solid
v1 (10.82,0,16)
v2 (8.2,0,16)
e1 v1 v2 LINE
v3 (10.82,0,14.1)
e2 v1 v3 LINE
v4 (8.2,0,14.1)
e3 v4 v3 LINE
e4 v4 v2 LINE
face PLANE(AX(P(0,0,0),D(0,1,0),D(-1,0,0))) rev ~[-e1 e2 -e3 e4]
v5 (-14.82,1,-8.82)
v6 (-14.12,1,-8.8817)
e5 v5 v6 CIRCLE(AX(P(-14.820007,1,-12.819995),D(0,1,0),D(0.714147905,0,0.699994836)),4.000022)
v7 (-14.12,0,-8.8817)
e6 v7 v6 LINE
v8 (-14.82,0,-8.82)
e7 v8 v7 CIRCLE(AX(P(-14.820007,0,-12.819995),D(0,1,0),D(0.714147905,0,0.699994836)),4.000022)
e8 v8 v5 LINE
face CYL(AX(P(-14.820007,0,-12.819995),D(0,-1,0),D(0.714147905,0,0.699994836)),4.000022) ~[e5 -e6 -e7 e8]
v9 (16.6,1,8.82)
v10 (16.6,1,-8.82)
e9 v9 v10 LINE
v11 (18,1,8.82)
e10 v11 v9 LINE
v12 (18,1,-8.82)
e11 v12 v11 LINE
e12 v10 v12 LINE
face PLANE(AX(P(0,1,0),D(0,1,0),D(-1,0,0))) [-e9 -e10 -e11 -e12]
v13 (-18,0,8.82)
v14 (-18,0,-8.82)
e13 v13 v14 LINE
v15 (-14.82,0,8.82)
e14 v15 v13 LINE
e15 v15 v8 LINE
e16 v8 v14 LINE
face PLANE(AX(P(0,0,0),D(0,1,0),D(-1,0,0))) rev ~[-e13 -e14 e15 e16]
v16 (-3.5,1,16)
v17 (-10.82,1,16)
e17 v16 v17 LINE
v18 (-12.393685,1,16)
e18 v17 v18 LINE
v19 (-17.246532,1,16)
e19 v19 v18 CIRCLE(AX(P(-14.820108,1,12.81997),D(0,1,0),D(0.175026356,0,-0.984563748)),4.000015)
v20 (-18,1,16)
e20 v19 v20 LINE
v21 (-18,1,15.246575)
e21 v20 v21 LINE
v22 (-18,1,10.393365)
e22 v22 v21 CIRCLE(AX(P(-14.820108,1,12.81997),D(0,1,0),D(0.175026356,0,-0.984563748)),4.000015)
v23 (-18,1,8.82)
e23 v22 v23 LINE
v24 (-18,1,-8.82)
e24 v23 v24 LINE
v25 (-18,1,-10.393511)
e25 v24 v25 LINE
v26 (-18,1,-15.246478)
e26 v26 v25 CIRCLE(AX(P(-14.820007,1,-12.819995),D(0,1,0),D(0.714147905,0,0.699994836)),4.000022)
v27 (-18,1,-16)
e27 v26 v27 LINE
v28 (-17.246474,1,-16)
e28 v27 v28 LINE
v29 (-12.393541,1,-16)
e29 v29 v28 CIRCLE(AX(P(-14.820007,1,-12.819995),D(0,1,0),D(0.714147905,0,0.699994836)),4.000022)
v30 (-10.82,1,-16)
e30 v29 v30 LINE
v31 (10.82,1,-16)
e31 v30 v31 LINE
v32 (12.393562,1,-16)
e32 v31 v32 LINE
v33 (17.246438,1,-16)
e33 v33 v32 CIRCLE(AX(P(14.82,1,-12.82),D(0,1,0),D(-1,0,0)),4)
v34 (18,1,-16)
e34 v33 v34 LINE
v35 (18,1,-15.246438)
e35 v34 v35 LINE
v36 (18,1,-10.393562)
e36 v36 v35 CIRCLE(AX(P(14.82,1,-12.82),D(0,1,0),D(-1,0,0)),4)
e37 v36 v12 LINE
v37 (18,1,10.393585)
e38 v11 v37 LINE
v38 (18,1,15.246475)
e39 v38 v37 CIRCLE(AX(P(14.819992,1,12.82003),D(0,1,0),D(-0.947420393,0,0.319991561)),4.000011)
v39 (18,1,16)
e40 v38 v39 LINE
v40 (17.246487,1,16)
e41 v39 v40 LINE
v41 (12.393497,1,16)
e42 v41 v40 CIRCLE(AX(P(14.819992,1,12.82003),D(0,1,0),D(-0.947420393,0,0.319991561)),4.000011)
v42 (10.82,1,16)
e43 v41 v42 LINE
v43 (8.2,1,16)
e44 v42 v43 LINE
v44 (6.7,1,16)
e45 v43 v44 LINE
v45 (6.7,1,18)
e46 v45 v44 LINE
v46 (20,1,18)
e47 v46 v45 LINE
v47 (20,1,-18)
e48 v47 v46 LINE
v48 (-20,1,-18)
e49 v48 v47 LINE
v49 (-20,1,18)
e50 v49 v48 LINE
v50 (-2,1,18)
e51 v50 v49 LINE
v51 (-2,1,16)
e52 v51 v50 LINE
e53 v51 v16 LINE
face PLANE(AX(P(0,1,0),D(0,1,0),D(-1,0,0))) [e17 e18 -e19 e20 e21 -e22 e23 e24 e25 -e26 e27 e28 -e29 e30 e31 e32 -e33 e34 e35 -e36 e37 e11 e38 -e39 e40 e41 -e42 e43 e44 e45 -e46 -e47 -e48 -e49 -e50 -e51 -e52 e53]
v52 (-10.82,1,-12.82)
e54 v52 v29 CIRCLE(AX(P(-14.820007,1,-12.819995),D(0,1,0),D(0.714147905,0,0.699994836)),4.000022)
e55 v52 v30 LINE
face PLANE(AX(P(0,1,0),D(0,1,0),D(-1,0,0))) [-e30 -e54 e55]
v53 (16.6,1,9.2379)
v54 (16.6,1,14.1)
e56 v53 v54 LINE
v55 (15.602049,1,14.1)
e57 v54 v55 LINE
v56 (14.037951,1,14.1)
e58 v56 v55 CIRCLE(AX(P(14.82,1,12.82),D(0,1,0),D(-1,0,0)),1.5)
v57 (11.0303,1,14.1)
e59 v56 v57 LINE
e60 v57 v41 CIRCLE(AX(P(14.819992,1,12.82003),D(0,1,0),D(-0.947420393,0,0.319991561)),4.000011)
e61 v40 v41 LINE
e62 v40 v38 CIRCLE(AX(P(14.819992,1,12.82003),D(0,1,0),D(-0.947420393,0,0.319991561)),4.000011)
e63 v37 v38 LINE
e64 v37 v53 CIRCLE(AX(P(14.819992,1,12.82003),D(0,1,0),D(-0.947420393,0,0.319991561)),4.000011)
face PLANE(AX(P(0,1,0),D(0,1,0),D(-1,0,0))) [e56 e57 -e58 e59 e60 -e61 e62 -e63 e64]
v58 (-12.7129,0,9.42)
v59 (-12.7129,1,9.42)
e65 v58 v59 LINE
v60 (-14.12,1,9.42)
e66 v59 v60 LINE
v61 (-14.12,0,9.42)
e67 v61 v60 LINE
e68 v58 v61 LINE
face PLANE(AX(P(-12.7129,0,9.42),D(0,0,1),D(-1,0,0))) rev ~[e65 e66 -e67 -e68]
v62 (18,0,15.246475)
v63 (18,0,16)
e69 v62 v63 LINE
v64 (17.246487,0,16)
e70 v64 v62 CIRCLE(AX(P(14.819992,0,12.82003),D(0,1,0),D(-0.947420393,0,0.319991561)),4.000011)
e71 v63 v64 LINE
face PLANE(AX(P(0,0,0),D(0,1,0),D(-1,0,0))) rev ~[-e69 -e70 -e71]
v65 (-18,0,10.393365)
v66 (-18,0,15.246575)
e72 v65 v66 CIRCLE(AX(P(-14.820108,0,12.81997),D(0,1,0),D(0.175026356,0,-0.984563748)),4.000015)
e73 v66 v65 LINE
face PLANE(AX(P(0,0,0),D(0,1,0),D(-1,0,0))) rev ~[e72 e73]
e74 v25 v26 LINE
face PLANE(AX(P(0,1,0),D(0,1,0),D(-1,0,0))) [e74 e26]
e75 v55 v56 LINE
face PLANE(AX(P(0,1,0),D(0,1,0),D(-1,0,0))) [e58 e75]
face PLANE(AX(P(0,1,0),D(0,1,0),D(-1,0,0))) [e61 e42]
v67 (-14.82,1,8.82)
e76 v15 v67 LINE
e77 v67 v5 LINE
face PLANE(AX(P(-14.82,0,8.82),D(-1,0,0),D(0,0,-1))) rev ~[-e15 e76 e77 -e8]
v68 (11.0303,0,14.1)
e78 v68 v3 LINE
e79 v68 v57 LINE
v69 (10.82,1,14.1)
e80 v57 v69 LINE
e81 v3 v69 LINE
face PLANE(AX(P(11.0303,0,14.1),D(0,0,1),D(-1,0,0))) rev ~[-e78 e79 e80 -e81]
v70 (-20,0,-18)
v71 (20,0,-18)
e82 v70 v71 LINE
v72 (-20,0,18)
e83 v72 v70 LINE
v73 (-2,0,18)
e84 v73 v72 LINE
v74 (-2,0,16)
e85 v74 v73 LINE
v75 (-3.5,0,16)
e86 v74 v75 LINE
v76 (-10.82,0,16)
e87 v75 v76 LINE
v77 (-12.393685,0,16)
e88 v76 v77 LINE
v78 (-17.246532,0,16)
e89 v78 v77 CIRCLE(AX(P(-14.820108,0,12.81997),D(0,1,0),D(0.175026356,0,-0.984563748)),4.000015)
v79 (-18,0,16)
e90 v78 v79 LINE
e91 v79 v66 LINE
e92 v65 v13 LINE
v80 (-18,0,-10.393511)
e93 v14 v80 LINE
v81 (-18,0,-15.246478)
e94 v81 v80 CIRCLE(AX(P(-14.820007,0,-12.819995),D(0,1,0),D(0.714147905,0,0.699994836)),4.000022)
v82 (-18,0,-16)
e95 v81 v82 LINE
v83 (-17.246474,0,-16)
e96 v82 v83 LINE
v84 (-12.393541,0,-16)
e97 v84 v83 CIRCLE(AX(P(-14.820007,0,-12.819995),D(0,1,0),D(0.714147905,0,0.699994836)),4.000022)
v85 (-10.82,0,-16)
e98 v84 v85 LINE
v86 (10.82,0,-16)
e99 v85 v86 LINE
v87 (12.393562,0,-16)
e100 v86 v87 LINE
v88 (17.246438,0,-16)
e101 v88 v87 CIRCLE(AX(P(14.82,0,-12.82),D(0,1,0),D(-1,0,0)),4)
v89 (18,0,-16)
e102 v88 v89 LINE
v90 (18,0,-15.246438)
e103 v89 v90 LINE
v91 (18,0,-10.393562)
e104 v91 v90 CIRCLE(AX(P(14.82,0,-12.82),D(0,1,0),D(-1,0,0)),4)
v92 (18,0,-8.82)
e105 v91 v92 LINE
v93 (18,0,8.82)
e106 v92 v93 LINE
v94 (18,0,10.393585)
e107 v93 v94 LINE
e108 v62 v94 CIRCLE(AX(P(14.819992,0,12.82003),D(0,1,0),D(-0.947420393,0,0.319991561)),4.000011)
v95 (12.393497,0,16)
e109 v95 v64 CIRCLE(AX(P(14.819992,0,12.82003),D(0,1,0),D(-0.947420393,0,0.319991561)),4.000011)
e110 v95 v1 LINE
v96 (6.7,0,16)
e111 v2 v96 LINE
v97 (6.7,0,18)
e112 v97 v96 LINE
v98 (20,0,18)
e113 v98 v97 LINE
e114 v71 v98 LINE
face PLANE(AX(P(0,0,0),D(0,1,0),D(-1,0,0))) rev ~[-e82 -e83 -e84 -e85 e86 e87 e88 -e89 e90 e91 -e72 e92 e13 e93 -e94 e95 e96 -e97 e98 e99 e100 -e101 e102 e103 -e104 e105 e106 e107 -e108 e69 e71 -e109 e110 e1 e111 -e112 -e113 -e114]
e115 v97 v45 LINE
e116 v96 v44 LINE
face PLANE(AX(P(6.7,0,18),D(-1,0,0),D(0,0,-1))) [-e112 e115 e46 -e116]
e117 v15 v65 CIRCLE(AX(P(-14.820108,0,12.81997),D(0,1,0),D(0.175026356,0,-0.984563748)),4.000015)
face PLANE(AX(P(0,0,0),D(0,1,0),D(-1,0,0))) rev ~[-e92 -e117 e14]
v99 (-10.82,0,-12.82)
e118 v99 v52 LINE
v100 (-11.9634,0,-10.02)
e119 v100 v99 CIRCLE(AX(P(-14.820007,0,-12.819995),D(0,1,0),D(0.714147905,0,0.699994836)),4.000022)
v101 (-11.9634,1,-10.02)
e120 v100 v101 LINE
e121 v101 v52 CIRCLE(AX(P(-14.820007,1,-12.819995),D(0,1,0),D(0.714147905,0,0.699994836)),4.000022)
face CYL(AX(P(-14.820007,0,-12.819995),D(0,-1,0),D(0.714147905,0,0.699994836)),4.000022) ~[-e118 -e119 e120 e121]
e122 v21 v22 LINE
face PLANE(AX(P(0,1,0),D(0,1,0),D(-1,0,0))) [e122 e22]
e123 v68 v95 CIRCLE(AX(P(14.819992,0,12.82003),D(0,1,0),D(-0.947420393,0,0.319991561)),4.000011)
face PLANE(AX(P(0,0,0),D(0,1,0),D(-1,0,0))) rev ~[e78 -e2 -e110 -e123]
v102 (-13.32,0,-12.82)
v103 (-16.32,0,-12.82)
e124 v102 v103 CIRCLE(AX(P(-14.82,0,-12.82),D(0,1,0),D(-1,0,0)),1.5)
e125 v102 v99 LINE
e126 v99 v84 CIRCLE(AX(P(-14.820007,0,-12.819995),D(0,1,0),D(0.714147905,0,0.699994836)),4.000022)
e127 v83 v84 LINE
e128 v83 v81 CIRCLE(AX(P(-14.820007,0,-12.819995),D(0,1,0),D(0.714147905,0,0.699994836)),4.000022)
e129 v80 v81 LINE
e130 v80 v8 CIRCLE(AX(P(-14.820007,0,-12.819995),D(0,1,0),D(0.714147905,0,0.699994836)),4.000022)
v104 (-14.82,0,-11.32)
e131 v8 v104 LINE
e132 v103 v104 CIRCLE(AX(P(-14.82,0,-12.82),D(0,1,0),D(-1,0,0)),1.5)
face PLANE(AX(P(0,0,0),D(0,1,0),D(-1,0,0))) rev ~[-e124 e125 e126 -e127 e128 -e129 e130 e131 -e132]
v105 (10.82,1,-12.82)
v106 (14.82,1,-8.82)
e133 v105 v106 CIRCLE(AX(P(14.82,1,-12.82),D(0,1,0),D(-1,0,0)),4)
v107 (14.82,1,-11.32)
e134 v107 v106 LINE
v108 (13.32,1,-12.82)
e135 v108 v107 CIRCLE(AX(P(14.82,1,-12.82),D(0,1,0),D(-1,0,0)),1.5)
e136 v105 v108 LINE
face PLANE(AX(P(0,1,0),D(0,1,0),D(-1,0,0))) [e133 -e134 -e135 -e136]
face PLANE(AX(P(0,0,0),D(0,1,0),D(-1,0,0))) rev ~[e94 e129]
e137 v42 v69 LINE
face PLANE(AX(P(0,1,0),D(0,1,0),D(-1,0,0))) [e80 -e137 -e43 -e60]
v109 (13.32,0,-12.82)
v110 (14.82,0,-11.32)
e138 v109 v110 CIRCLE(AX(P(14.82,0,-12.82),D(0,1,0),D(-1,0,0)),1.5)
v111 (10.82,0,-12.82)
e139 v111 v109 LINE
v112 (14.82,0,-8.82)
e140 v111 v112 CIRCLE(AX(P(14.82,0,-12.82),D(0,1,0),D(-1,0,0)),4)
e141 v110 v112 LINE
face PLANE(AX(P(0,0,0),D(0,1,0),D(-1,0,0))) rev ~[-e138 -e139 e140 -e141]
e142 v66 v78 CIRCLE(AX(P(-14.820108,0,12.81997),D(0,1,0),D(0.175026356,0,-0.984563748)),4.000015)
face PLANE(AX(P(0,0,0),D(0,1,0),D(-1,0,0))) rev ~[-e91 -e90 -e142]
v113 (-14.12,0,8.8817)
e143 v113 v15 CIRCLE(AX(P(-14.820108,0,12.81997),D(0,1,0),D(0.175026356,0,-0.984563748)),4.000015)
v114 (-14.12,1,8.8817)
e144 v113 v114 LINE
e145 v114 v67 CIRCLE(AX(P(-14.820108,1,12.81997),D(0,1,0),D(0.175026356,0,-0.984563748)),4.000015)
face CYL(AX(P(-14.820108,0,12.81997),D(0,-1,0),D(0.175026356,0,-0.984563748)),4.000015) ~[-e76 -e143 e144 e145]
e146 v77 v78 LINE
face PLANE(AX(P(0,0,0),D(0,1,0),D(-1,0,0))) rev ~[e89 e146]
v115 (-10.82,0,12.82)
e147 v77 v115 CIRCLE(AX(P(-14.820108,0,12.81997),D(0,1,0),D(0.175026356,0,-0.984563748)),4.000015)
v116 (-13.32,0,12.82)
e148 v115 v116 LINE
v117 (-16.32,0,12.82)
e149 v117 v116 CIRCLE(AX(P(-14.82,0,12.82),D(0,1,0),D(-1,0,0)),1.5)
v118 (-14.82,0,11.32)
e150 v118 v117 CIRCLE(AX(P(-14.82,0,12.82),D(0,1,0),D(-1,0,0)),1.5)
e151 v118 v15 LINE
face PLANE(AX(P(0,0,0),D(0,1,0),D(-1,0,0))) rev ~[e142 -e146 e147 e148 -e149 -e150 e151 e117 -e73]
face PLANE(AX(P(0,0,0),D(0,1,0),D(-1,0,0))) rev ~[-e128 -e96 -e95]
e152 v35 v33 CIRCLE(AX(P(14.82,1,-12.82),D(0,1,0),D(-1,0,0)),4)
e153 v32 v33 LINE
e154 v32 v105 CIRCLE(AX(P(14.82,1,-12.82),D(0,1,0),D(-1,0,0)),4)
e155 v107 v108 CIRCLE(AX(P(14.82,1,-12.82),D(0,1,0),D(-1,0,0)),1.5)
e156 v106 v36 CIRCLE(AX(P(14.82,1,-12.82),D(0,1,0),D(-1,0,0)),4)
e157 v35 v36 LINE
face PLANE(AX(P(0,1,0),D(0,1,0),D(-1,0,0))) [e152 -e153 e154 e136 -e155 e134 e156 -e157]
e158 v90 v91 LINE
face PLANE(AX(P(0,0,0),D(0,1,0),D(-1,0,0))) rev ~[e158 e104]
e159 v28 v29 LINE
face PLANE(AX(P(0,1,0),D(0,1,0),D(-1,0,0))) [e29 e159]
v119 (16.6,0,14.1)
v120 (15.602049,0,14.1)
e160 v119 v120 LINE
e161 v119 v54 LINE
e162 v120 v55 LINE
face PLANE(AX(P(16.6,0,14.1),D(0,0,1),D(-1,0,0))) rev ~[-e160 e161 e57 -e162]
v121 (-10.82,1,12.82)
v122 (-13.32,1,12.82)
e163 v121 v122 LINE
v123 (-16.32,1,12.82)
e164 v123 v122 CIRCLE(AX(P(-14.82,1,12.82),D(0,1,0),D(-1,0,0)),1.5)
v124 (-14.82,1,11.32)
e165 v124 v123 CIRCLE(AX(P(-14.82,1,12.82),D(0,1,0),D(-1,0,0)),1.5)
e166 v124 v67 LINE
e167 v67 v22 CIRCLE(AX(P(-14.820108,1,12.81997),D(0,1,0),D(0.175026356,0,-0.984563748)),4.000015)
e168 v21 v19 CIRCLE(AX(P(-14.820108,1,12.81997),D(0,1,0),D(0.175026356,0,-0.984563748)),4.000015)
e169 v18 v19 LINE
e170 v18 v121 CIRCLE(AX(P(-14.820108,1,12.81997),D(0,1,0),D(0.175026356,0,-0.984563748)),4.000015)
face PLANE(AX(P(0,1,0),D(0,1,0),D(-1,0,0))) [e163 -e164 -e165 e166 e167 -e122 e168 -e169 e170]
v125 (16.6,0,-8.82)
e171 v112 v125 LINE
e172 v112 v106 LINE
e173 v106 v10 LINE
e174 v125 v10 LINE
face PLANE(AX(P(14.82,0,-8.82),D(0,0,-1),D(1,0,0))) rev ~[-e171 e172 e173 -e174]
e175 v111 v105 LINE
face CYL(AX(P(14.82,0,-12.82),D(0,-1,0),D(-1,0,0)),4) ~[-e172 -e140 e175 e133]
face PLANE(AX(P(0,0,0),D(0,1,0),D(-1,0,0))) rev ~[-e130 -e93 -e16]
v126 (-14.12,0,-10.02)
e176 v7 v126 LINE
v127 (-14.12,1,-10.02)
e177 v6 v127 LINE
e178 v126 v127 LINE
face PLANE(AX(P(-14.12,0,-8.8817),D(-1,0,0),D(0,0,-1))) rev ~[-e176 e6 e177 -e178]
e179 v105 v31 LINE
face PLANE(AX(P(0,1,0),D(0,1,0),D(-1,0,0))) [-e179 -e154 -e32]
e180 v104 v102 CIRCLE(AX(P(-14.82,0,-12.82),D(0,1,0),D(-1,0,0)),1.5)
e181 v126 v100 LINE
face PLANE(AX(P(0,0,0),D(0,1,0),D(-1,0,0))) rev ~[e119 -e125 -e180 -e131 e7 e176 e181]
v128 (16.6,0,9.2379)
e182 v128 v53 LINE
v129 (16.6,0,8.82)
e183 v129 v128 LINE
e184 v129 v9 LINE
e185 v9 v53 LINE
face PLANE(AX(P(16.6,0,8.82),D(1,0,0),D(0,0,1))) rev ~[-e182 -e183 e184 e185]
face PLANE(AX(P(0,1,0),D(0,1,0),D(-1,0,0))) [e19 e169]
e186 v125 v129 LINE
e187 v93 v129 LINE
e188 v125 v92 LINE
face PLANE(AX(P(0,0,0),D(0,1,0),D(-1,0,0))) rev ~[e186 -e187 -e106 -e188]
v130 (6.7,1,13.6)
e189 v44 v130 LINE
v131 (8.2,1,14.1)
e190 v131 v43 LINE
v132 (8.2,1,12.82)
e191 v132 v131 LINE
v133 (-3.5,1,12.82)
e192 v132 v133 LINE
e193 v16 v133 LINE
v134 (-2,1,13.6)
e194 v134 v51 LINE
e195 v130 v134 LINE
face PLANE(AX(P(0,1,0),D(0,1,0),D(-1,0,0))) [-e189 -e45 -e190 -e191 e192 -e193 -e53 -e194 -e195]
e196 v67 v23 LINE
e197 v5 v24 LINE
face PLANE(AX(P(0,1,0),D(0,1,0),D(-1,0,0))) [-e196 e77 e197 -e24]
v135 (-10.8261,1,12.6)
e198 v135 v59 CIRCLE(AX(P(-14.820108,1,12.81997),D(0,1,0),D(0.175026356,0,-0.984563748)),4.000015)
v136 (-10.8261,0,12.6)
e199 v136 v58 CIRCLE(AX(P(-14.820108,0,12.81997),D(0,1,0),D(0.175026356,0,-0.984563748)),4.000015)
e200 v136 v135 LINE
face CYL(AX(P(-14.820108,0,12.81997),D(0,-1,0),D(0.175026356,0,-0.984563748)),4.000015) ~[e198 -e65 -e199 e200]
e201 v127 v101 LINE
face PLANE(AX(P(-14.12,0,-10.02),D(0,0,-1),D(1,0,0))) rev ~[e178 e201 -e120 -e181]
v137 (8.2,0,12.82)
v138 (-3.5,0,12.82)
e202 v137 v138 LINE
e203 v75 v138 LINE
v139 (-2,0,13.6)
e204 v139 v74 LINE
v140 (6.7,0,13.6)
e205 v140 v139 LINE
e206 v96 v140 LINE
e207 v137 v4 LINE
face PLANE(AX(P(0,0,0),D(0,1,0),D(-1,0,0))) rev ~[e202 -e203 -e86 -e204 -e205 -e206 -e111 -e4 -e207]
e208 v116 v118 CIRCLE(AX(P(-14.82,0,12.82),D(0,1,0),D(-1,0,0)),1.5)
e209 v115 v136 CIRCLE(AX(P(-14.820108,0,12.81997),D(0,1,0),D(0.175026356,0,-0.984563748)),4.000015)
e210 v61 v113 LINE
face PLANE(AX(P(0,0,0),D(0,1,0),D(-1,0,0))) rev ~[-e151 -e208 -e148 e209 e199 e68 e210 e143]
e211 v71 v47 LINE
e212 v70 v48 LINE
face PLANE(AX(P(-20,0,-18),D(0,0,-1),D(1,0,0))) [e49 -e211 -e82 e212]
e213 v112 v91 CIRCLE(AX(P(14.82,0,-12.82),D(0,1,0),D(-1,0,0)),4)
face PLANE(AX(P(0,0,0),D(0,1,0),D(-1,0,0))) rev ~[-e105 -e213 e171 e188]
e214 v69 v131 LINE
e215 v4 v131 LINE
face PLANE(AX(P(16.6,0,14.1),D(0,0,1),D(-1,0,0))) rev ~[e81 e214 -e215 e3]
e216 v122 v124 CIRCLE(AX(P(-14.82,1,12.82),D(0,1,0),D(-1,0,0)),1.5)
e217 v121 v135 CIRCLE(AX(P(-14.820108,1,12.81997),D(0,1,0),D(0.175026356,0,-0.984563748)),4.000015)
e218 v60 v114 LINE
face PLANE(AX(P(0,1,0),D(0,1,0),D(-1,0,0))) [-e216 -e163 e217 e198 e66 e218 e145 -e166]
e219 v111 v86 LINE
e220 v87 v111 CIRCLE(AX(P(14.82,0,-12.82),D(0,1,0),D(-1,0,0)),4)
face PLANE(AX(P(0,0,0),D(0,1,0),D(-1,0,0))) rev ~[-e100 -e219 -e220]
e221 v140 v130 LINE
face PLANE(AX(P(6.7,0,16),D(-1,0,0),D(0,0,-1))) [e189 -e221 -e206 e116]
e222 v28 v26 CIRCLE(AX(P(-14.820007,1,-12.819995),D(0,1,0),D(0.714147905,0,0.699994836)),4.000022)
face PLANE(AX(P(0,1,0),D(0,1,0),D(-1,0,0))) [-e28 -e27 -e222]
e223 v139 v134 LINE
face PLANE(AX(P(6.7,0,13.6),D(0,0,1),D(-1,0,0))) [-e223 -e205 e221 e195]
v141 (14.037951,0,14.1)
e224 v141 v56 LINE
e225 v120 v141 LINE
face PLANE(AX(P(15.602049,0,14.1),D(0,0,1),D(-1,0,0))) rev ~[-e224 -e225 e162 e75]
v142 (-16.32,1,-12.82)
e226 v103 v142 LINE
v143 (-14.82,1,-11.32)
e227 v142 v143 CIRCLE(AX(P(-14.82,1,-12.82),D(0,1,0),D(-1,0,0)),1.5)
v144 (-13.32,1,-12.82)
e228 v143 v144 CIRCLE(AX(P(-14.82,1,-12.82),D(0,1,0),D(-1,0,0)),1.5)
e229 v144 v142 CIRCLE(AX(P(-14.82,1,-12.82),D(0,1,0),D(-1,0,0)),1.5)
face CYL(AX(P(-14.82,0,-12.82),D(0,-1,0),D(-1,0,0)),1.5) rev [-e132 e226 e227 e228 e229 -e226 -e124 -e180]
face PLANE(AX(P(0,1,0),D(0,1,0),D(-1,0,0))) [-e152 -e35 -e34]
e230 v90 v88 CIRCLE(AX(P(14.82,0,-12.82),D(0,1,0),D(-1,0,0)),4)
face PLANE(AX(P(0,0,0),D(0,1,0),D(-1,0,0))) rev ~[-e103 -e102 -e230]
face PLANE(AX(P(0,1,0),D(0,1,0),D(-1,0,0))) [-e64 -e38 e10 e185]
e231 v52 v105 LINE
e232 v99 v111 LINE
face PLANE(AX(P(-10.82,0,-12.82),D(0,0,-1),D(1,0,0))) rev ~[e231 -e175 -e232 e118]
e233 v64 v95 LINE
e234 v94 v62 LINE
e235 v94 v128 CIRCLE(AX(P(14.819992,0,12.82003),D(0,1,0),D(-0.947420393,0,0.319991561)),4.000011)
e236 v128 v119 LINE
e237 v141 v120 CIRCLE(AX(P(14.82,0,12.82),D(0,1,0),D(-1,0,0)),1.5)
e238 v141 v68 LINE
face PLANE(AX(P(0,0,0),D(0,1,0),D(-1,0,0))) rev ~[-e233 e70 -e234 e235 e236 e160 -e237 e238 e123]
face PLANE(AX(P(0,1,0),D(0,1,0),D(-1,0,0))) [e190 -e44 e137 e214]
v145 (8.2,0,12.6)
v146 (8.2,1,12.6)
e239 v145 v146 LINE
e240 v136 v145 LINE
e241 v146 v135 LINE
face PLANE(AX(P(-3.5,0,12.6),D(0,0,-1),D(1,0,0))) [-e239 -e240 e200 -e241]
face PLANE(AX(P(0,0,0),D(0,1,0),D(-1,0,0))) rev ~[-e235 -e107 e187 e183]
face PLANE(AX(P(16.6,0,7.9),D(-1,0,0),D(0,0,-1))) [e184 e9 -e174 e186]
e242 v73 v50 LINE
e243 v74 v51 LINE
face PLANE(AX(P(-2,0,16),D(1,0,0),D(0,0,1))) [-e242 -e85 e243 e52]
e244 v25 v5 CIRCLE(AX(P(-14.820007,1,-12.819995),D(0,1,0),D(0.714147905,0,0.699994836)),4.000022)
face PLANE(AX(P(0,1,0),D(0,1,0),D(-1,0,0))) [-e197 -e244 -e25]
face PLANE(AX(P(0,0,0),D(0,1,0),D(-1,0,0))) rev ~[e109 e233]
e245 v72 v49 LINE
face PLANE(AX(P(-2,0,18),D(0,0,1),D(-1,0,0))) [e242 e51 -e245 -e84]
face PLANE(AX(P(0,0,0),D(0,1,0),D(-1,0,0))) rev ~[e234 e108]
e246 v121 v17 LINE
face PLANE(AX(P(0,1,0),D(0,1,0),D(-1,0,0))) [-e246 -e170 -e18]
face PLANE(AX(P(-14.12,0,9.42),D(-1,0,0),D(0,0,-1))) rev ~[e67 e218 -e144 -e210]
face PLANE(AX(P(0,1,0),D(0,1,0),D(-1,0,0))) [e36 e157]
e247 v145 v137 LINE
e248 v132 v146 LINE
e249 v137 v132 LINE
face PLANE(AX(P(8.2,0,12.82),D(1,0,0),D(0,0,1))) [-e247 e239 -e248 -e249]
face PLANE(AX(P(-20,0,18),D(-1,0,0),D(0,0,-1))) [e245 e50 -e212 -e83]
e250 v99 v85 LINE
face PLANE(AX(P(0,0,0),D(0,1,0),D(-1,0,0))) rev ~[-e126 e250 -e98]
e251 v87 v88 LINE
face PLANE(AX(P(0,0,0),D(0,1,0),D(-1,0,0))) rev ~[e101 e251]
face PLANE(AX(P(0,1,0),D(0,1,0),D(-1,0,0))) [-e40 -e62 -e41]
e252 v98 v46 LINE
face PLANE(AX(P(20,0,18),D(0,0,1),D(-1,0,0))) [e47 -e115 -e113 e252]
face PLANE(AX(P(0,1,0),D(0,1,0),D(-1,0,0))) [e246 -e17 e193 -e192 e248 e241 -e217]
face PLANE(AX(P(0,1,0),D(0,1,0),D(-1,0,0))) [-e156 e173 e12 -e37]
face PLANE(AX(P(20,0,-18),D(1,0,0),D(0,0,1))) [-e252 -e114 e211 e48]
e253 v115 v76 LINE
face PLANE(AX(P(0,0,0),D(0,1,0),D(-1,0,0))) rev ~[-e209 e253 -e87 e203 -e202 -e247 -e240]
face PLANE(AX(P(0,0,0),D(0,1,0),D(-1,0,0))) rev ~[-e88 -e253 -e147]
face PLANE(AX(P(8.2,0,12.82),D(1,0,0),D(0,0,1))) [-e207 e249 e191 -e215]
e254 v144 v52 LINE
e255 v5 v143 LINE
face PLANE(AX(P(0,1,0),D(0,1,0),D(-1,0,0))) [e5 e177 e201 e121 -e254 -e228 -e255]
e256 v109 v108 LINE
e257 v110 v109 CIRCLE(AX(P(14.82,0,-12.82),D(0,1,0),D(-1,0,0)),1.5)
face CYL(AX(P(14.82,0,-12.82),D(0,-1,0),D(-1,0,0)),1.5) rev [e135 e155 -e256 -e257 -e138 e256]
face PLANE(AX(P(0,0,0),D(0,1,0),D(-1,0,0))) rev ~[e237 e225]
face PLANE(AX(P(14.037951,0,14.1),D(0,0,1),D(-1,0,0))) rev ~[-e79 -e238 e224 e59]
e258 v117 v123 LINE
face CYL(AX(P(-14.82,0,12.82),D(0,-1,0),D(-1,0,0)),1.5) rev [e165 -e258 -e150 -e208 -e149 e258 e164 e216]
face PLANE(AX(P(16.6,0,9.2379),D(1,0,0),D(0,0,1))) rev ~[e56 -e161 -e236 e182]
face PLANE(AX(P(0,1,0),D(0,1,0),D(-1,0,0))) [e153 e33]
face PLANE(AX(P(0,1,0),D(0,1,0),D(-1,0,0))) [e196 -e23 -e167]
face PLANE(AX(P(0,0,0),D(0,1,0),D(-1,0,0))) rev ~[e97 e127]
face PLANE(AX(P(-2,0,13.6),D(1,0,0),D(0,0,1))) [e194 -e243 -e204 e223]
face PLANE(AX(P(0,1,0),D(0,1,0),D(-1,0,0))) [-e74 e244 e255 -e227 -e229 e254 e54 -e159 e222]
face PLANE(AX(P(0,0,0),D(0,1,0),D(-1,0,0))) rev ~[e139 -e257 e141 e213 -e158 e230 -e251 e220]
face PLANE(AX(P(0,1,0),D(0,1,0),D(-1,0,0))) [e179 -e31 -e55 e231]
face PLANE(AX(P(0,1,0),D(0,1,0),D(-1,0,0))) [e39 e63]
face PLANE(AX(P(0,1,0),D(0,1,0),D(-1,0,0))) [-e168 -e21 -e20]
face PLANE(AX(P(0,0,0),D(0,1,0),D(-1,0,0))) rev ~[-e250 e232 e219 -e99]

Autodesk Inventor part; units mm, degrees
ref_plane "YZ Plane" through (0, 0, 0) normal (1, 0, 0) x (0, 1, 0)
ref_plane "XZ Plane" through (0, 0, 0) normal (0, 1, 0) x (-1, 0, 0)
ref_plane "XY Plane" through (0, 0, 0) normal (0, 0, 1) x (1, 0, 0)
sketch "Эскиз1" plane through (0, 0, 0) normal (0, 1, 0) x (-1, 0, 0)
  line L0 (18, -16) -> (-18, -16)
  line L1 (-18, -16) -> (-18, 16)
  line L2 (-18, 16) -> (18, 16)
  line L3 (18, 16) -> (18, -16)
  line L4 (14.82, -12.82) -> (-14.82, -12.82)
  line L5 (-14.82, -12.82) -> (-14.82, 12.82)
  line L6 (-14.82, 12.82) -> (14.82, 12.82)
  line L7 (14.82, 12.82) -> (14.82, -12.82)
  circle A0 centre (14.82, -12.82) radius 1.5
  circle A1 centre (14.82, 12.82) radius 1.5
  circle A2 centre (-14.82, 12.82) radius 1.5
  circle A3 centre (-14.82, -12.82) radius 1.5
  arc A4 (11.9634, -10.02) -> (14.12, -8.8817) centre (14.82, -12.82) ccw
  circle A5 centre (-14.82, -12.82) radius 4
  arc A6 (14.12, 8.8817) -> (12.7129, 9.42) centre (14.82, 12.82) ccw
  arc A7 (-11.0303, 14.1) -> (-16.6, 9.2379) centre (-14.82, 12.82) ccw
  line L8 (14.12, -10.02) -> (1.12, -10.02)
  line L9 (1.12, -10.02) -> (1.12, 9.42)
  line L10 (1.12, 9.42) -> (14.12, 9.42)
  line L11 (14.12, 9.42) -> (14.12, -10.02)
  line L12 (-9.6, 7.9) -> (-16.6, 7.9)
  line L13 (-16.6, 7.9) -> (-16.6, 14.1)
  line L14 (-16.6, 14.1) -> (-9.6, 14.1)
  line L15 (-9.6, 14.1) -> (-9.6, 7.9)
  line L16 (-11.0303, 14.1) -> (-16.6, 14.1)
  line L17 (14.12, 8.8817) -> (14.12, 9.42)
  line L18 (14.12, -8.8817) -> (14.12, -10.02)
  line L19 (11.9634, -10.02) -> (14.12, -10.02)
  circle A8 centre (-13.034, 10.913) radius 1.5
  circle A9 centre (-13.034, 10.913) radius 1.25
  line L20 (20, -18) -> (-20, -18)
  line L21 (-20, -18) -> (-20, 18)
  line L22 (-20, 18) -> (20, 18)
  line L23 (20, 18) -> (20, -18)
  line L24 (-10.82, -12.82) -> (-10.82, -16)
  line L25 (-14.82, -8.82) -> (-18, -8.82)
  line L26 (10.82, -12.82) -> (10.82, -16)
  line L27 (14.82, -8.82) -> (18, -8.82)
  line L28 (14.82, 8.82) -> (18, 8.82)
  line L29 (10.82, 12.82) -> (10.82, 16)
  line L30 (-18, 8.82) -> (-16.6, 8.82)
  line L31 (-10.82, 16) -> (-10.82, 14.1)
  line L32 (-10.82, 14.1) -> (-11.0303, 14.1)
  line L33 (-16.6, 9.2379) -> (-16.6, 8.82)
  line L34 (3.5, 16) -> (3.5, 12.6)
  line L35 (3.5, 12.6) -> (-8.2, 12.6)
  line L36 (-8.2, 12.6) -> (-8.2, 16)
  line L37 (-6.7, 18) -> (-6.7, 13.6)
  line L38 (-6.7, 13.6) -> (2, 13.6)
  line L39 (2, 13.6) -> (2, 18)
  line L40 (3.5, 16) -> (3.5, 12.6)
  line L41 (-8.2, 12.6) -> (3.5, 12.6)
  line L42 (-8.2, 12.6) -> (-8.2, 16)
  line L43 (-8.2, 16) -> (-6.7, 16)
  line L44 (-6.7, 16) -> (-6.7, 13.6)
  line L45 (-6.7, 13.6) -> (2, 13.6)
  line L46 (2, 13.6) -> (2, 16)
  line L47 (2, 16) -> (3.5, 16)
  line L48 (-10.82, 14.1) -> (-8.2, 14.1)
  line L49 (-8.2, 14.1) -> (-8.2, 16)
  line L50 (3.5, 12.6) -> (10.8261, 12.6)
  line L51 (10.8261, 12.6) -> (10.82, 12.82)
  line L52 (10.82, 12.82) -> (3.5, 12.82)
  line L53 (3.5, 12.82) -> (3.5, 12.6)
  line L54 (-16.6, 7.9) -> (-16.6, -8.82)
  line L55 (-16.6, -8.82) -> (-18, -8.82)
  line L56 (-18, -8.82) -> (-18, 8.82)
  point P0 (0, 0)
  dimension "d0" = 36
  dimension "d1" = 32
  dimension "d2" = 3.18
  dimension "d3" = 3.18
  dimension "d4" = 3.18
  dimension "d5" = 3.18
  dimension "d6" = 3
  dimension "d7" = 3
  dimension "d8" = 3
  dimension "d9" = 3
  dimension "d10" = 8
  dimension "d11" = 8
  dimension "d12" = 8
  dimension "d13" = 8
  dimension "d14" = 2.8
  dimension "d15" = 0.7
  dimension "d16" = 3.4
  dimension "d17" = 13
  dimension "d18" = 1.9
  dimension "d19" = 1.4
  dimension "d20" = 7
  dimension "d21" = 6.2
  dimension "d22" = 4.966
  dimension "d23" = 5.087
  dimension "d24" = 3
  dimension "d25" = 2.5
  dimension "d26" = 2
  dimension "d27" = 2
  dimension "d28" = 2
  dimension "d29" = 2
  dimension "d30" = 4
  dimension "d31" = 4
  dimension "d32" = 16
  dimension "d33" = 11.3
  dimension "d34" = 1
  dimension "d35" = 1.5
  dimension "d36" = 1.5
  dimension "d37" = 2.4
extrude "Выдавливание1" add sketch "Эскиз1" along normal blind 1 contours L0 A4 L3 A6 L2 L39 L22 L23 L20 L21 L37 A7 L1 A5 | L26 A4 L0 | L0 L24 L4 L26 | L0 A5 L24 | A4 L4 A0 L7 L3 L0 | L0 A4 | A4 L8 L11 L7 A0 L4 | A5 L0 | L0 A5 L1 L5 A3 L4 | L4 A3 L5 A5 | A4 L3 L0 | A0 L7 L4 | L4 L7 A0 | L0 L1 A5 | A3 L5 L4 | L4 L5 A3 | A5 L1 L25 | L3 A4 | A5 L1 | A4 L27 L3 | L7 L28 L3 L27 | A6 L11 L10 L6 A1 L7 | L7 A1 L6 A6 L2 L3 | A6 L3 L28 | L14 L13 A7 L1 L2 A2 | A2 L14 | L30 L1 A7 L13 | A1 L6 L7 | L7 L6 A1 | L3 A6 | L36 L2 L37 L38 L39 L34 L6 | A7 L1 | A6 L2 L3 | L29 L2 A6 | A7 L2 L31 L14 | L1 L2 A7 | L2 A6 | L2 A7
extrude "Выдавливание2" add sketch "Эскиз1" along normal blind 1 contours L25 L1 L30 L13 L54 | L14 L13 A7 L1 L2 A2 | A2 L14 | L30 L1 A7 L13 | L50 L34 L6 A6 | L36 L2 L37 L38 L39 L34 L6 | L6 L34 L35 L36 | L14 L31 L2 L36 L48 | L6 L34 L2 L29 | A7 L2 L31 L14 | L1 L2 A7
extrude "Выдавливание3" cut sketch "Эскиз1" along normal blind 1 contours A0 L7 L4 | L4 L7 A0 | A3 L5 L4 | L4 L5 A3 | A1 L6 L7 | L7 L6 A1
equation "\"d6\" = d9"
equation "\"d7\" = d9"
equation "\"d8\" = d9"
properties part number "resin_top"
